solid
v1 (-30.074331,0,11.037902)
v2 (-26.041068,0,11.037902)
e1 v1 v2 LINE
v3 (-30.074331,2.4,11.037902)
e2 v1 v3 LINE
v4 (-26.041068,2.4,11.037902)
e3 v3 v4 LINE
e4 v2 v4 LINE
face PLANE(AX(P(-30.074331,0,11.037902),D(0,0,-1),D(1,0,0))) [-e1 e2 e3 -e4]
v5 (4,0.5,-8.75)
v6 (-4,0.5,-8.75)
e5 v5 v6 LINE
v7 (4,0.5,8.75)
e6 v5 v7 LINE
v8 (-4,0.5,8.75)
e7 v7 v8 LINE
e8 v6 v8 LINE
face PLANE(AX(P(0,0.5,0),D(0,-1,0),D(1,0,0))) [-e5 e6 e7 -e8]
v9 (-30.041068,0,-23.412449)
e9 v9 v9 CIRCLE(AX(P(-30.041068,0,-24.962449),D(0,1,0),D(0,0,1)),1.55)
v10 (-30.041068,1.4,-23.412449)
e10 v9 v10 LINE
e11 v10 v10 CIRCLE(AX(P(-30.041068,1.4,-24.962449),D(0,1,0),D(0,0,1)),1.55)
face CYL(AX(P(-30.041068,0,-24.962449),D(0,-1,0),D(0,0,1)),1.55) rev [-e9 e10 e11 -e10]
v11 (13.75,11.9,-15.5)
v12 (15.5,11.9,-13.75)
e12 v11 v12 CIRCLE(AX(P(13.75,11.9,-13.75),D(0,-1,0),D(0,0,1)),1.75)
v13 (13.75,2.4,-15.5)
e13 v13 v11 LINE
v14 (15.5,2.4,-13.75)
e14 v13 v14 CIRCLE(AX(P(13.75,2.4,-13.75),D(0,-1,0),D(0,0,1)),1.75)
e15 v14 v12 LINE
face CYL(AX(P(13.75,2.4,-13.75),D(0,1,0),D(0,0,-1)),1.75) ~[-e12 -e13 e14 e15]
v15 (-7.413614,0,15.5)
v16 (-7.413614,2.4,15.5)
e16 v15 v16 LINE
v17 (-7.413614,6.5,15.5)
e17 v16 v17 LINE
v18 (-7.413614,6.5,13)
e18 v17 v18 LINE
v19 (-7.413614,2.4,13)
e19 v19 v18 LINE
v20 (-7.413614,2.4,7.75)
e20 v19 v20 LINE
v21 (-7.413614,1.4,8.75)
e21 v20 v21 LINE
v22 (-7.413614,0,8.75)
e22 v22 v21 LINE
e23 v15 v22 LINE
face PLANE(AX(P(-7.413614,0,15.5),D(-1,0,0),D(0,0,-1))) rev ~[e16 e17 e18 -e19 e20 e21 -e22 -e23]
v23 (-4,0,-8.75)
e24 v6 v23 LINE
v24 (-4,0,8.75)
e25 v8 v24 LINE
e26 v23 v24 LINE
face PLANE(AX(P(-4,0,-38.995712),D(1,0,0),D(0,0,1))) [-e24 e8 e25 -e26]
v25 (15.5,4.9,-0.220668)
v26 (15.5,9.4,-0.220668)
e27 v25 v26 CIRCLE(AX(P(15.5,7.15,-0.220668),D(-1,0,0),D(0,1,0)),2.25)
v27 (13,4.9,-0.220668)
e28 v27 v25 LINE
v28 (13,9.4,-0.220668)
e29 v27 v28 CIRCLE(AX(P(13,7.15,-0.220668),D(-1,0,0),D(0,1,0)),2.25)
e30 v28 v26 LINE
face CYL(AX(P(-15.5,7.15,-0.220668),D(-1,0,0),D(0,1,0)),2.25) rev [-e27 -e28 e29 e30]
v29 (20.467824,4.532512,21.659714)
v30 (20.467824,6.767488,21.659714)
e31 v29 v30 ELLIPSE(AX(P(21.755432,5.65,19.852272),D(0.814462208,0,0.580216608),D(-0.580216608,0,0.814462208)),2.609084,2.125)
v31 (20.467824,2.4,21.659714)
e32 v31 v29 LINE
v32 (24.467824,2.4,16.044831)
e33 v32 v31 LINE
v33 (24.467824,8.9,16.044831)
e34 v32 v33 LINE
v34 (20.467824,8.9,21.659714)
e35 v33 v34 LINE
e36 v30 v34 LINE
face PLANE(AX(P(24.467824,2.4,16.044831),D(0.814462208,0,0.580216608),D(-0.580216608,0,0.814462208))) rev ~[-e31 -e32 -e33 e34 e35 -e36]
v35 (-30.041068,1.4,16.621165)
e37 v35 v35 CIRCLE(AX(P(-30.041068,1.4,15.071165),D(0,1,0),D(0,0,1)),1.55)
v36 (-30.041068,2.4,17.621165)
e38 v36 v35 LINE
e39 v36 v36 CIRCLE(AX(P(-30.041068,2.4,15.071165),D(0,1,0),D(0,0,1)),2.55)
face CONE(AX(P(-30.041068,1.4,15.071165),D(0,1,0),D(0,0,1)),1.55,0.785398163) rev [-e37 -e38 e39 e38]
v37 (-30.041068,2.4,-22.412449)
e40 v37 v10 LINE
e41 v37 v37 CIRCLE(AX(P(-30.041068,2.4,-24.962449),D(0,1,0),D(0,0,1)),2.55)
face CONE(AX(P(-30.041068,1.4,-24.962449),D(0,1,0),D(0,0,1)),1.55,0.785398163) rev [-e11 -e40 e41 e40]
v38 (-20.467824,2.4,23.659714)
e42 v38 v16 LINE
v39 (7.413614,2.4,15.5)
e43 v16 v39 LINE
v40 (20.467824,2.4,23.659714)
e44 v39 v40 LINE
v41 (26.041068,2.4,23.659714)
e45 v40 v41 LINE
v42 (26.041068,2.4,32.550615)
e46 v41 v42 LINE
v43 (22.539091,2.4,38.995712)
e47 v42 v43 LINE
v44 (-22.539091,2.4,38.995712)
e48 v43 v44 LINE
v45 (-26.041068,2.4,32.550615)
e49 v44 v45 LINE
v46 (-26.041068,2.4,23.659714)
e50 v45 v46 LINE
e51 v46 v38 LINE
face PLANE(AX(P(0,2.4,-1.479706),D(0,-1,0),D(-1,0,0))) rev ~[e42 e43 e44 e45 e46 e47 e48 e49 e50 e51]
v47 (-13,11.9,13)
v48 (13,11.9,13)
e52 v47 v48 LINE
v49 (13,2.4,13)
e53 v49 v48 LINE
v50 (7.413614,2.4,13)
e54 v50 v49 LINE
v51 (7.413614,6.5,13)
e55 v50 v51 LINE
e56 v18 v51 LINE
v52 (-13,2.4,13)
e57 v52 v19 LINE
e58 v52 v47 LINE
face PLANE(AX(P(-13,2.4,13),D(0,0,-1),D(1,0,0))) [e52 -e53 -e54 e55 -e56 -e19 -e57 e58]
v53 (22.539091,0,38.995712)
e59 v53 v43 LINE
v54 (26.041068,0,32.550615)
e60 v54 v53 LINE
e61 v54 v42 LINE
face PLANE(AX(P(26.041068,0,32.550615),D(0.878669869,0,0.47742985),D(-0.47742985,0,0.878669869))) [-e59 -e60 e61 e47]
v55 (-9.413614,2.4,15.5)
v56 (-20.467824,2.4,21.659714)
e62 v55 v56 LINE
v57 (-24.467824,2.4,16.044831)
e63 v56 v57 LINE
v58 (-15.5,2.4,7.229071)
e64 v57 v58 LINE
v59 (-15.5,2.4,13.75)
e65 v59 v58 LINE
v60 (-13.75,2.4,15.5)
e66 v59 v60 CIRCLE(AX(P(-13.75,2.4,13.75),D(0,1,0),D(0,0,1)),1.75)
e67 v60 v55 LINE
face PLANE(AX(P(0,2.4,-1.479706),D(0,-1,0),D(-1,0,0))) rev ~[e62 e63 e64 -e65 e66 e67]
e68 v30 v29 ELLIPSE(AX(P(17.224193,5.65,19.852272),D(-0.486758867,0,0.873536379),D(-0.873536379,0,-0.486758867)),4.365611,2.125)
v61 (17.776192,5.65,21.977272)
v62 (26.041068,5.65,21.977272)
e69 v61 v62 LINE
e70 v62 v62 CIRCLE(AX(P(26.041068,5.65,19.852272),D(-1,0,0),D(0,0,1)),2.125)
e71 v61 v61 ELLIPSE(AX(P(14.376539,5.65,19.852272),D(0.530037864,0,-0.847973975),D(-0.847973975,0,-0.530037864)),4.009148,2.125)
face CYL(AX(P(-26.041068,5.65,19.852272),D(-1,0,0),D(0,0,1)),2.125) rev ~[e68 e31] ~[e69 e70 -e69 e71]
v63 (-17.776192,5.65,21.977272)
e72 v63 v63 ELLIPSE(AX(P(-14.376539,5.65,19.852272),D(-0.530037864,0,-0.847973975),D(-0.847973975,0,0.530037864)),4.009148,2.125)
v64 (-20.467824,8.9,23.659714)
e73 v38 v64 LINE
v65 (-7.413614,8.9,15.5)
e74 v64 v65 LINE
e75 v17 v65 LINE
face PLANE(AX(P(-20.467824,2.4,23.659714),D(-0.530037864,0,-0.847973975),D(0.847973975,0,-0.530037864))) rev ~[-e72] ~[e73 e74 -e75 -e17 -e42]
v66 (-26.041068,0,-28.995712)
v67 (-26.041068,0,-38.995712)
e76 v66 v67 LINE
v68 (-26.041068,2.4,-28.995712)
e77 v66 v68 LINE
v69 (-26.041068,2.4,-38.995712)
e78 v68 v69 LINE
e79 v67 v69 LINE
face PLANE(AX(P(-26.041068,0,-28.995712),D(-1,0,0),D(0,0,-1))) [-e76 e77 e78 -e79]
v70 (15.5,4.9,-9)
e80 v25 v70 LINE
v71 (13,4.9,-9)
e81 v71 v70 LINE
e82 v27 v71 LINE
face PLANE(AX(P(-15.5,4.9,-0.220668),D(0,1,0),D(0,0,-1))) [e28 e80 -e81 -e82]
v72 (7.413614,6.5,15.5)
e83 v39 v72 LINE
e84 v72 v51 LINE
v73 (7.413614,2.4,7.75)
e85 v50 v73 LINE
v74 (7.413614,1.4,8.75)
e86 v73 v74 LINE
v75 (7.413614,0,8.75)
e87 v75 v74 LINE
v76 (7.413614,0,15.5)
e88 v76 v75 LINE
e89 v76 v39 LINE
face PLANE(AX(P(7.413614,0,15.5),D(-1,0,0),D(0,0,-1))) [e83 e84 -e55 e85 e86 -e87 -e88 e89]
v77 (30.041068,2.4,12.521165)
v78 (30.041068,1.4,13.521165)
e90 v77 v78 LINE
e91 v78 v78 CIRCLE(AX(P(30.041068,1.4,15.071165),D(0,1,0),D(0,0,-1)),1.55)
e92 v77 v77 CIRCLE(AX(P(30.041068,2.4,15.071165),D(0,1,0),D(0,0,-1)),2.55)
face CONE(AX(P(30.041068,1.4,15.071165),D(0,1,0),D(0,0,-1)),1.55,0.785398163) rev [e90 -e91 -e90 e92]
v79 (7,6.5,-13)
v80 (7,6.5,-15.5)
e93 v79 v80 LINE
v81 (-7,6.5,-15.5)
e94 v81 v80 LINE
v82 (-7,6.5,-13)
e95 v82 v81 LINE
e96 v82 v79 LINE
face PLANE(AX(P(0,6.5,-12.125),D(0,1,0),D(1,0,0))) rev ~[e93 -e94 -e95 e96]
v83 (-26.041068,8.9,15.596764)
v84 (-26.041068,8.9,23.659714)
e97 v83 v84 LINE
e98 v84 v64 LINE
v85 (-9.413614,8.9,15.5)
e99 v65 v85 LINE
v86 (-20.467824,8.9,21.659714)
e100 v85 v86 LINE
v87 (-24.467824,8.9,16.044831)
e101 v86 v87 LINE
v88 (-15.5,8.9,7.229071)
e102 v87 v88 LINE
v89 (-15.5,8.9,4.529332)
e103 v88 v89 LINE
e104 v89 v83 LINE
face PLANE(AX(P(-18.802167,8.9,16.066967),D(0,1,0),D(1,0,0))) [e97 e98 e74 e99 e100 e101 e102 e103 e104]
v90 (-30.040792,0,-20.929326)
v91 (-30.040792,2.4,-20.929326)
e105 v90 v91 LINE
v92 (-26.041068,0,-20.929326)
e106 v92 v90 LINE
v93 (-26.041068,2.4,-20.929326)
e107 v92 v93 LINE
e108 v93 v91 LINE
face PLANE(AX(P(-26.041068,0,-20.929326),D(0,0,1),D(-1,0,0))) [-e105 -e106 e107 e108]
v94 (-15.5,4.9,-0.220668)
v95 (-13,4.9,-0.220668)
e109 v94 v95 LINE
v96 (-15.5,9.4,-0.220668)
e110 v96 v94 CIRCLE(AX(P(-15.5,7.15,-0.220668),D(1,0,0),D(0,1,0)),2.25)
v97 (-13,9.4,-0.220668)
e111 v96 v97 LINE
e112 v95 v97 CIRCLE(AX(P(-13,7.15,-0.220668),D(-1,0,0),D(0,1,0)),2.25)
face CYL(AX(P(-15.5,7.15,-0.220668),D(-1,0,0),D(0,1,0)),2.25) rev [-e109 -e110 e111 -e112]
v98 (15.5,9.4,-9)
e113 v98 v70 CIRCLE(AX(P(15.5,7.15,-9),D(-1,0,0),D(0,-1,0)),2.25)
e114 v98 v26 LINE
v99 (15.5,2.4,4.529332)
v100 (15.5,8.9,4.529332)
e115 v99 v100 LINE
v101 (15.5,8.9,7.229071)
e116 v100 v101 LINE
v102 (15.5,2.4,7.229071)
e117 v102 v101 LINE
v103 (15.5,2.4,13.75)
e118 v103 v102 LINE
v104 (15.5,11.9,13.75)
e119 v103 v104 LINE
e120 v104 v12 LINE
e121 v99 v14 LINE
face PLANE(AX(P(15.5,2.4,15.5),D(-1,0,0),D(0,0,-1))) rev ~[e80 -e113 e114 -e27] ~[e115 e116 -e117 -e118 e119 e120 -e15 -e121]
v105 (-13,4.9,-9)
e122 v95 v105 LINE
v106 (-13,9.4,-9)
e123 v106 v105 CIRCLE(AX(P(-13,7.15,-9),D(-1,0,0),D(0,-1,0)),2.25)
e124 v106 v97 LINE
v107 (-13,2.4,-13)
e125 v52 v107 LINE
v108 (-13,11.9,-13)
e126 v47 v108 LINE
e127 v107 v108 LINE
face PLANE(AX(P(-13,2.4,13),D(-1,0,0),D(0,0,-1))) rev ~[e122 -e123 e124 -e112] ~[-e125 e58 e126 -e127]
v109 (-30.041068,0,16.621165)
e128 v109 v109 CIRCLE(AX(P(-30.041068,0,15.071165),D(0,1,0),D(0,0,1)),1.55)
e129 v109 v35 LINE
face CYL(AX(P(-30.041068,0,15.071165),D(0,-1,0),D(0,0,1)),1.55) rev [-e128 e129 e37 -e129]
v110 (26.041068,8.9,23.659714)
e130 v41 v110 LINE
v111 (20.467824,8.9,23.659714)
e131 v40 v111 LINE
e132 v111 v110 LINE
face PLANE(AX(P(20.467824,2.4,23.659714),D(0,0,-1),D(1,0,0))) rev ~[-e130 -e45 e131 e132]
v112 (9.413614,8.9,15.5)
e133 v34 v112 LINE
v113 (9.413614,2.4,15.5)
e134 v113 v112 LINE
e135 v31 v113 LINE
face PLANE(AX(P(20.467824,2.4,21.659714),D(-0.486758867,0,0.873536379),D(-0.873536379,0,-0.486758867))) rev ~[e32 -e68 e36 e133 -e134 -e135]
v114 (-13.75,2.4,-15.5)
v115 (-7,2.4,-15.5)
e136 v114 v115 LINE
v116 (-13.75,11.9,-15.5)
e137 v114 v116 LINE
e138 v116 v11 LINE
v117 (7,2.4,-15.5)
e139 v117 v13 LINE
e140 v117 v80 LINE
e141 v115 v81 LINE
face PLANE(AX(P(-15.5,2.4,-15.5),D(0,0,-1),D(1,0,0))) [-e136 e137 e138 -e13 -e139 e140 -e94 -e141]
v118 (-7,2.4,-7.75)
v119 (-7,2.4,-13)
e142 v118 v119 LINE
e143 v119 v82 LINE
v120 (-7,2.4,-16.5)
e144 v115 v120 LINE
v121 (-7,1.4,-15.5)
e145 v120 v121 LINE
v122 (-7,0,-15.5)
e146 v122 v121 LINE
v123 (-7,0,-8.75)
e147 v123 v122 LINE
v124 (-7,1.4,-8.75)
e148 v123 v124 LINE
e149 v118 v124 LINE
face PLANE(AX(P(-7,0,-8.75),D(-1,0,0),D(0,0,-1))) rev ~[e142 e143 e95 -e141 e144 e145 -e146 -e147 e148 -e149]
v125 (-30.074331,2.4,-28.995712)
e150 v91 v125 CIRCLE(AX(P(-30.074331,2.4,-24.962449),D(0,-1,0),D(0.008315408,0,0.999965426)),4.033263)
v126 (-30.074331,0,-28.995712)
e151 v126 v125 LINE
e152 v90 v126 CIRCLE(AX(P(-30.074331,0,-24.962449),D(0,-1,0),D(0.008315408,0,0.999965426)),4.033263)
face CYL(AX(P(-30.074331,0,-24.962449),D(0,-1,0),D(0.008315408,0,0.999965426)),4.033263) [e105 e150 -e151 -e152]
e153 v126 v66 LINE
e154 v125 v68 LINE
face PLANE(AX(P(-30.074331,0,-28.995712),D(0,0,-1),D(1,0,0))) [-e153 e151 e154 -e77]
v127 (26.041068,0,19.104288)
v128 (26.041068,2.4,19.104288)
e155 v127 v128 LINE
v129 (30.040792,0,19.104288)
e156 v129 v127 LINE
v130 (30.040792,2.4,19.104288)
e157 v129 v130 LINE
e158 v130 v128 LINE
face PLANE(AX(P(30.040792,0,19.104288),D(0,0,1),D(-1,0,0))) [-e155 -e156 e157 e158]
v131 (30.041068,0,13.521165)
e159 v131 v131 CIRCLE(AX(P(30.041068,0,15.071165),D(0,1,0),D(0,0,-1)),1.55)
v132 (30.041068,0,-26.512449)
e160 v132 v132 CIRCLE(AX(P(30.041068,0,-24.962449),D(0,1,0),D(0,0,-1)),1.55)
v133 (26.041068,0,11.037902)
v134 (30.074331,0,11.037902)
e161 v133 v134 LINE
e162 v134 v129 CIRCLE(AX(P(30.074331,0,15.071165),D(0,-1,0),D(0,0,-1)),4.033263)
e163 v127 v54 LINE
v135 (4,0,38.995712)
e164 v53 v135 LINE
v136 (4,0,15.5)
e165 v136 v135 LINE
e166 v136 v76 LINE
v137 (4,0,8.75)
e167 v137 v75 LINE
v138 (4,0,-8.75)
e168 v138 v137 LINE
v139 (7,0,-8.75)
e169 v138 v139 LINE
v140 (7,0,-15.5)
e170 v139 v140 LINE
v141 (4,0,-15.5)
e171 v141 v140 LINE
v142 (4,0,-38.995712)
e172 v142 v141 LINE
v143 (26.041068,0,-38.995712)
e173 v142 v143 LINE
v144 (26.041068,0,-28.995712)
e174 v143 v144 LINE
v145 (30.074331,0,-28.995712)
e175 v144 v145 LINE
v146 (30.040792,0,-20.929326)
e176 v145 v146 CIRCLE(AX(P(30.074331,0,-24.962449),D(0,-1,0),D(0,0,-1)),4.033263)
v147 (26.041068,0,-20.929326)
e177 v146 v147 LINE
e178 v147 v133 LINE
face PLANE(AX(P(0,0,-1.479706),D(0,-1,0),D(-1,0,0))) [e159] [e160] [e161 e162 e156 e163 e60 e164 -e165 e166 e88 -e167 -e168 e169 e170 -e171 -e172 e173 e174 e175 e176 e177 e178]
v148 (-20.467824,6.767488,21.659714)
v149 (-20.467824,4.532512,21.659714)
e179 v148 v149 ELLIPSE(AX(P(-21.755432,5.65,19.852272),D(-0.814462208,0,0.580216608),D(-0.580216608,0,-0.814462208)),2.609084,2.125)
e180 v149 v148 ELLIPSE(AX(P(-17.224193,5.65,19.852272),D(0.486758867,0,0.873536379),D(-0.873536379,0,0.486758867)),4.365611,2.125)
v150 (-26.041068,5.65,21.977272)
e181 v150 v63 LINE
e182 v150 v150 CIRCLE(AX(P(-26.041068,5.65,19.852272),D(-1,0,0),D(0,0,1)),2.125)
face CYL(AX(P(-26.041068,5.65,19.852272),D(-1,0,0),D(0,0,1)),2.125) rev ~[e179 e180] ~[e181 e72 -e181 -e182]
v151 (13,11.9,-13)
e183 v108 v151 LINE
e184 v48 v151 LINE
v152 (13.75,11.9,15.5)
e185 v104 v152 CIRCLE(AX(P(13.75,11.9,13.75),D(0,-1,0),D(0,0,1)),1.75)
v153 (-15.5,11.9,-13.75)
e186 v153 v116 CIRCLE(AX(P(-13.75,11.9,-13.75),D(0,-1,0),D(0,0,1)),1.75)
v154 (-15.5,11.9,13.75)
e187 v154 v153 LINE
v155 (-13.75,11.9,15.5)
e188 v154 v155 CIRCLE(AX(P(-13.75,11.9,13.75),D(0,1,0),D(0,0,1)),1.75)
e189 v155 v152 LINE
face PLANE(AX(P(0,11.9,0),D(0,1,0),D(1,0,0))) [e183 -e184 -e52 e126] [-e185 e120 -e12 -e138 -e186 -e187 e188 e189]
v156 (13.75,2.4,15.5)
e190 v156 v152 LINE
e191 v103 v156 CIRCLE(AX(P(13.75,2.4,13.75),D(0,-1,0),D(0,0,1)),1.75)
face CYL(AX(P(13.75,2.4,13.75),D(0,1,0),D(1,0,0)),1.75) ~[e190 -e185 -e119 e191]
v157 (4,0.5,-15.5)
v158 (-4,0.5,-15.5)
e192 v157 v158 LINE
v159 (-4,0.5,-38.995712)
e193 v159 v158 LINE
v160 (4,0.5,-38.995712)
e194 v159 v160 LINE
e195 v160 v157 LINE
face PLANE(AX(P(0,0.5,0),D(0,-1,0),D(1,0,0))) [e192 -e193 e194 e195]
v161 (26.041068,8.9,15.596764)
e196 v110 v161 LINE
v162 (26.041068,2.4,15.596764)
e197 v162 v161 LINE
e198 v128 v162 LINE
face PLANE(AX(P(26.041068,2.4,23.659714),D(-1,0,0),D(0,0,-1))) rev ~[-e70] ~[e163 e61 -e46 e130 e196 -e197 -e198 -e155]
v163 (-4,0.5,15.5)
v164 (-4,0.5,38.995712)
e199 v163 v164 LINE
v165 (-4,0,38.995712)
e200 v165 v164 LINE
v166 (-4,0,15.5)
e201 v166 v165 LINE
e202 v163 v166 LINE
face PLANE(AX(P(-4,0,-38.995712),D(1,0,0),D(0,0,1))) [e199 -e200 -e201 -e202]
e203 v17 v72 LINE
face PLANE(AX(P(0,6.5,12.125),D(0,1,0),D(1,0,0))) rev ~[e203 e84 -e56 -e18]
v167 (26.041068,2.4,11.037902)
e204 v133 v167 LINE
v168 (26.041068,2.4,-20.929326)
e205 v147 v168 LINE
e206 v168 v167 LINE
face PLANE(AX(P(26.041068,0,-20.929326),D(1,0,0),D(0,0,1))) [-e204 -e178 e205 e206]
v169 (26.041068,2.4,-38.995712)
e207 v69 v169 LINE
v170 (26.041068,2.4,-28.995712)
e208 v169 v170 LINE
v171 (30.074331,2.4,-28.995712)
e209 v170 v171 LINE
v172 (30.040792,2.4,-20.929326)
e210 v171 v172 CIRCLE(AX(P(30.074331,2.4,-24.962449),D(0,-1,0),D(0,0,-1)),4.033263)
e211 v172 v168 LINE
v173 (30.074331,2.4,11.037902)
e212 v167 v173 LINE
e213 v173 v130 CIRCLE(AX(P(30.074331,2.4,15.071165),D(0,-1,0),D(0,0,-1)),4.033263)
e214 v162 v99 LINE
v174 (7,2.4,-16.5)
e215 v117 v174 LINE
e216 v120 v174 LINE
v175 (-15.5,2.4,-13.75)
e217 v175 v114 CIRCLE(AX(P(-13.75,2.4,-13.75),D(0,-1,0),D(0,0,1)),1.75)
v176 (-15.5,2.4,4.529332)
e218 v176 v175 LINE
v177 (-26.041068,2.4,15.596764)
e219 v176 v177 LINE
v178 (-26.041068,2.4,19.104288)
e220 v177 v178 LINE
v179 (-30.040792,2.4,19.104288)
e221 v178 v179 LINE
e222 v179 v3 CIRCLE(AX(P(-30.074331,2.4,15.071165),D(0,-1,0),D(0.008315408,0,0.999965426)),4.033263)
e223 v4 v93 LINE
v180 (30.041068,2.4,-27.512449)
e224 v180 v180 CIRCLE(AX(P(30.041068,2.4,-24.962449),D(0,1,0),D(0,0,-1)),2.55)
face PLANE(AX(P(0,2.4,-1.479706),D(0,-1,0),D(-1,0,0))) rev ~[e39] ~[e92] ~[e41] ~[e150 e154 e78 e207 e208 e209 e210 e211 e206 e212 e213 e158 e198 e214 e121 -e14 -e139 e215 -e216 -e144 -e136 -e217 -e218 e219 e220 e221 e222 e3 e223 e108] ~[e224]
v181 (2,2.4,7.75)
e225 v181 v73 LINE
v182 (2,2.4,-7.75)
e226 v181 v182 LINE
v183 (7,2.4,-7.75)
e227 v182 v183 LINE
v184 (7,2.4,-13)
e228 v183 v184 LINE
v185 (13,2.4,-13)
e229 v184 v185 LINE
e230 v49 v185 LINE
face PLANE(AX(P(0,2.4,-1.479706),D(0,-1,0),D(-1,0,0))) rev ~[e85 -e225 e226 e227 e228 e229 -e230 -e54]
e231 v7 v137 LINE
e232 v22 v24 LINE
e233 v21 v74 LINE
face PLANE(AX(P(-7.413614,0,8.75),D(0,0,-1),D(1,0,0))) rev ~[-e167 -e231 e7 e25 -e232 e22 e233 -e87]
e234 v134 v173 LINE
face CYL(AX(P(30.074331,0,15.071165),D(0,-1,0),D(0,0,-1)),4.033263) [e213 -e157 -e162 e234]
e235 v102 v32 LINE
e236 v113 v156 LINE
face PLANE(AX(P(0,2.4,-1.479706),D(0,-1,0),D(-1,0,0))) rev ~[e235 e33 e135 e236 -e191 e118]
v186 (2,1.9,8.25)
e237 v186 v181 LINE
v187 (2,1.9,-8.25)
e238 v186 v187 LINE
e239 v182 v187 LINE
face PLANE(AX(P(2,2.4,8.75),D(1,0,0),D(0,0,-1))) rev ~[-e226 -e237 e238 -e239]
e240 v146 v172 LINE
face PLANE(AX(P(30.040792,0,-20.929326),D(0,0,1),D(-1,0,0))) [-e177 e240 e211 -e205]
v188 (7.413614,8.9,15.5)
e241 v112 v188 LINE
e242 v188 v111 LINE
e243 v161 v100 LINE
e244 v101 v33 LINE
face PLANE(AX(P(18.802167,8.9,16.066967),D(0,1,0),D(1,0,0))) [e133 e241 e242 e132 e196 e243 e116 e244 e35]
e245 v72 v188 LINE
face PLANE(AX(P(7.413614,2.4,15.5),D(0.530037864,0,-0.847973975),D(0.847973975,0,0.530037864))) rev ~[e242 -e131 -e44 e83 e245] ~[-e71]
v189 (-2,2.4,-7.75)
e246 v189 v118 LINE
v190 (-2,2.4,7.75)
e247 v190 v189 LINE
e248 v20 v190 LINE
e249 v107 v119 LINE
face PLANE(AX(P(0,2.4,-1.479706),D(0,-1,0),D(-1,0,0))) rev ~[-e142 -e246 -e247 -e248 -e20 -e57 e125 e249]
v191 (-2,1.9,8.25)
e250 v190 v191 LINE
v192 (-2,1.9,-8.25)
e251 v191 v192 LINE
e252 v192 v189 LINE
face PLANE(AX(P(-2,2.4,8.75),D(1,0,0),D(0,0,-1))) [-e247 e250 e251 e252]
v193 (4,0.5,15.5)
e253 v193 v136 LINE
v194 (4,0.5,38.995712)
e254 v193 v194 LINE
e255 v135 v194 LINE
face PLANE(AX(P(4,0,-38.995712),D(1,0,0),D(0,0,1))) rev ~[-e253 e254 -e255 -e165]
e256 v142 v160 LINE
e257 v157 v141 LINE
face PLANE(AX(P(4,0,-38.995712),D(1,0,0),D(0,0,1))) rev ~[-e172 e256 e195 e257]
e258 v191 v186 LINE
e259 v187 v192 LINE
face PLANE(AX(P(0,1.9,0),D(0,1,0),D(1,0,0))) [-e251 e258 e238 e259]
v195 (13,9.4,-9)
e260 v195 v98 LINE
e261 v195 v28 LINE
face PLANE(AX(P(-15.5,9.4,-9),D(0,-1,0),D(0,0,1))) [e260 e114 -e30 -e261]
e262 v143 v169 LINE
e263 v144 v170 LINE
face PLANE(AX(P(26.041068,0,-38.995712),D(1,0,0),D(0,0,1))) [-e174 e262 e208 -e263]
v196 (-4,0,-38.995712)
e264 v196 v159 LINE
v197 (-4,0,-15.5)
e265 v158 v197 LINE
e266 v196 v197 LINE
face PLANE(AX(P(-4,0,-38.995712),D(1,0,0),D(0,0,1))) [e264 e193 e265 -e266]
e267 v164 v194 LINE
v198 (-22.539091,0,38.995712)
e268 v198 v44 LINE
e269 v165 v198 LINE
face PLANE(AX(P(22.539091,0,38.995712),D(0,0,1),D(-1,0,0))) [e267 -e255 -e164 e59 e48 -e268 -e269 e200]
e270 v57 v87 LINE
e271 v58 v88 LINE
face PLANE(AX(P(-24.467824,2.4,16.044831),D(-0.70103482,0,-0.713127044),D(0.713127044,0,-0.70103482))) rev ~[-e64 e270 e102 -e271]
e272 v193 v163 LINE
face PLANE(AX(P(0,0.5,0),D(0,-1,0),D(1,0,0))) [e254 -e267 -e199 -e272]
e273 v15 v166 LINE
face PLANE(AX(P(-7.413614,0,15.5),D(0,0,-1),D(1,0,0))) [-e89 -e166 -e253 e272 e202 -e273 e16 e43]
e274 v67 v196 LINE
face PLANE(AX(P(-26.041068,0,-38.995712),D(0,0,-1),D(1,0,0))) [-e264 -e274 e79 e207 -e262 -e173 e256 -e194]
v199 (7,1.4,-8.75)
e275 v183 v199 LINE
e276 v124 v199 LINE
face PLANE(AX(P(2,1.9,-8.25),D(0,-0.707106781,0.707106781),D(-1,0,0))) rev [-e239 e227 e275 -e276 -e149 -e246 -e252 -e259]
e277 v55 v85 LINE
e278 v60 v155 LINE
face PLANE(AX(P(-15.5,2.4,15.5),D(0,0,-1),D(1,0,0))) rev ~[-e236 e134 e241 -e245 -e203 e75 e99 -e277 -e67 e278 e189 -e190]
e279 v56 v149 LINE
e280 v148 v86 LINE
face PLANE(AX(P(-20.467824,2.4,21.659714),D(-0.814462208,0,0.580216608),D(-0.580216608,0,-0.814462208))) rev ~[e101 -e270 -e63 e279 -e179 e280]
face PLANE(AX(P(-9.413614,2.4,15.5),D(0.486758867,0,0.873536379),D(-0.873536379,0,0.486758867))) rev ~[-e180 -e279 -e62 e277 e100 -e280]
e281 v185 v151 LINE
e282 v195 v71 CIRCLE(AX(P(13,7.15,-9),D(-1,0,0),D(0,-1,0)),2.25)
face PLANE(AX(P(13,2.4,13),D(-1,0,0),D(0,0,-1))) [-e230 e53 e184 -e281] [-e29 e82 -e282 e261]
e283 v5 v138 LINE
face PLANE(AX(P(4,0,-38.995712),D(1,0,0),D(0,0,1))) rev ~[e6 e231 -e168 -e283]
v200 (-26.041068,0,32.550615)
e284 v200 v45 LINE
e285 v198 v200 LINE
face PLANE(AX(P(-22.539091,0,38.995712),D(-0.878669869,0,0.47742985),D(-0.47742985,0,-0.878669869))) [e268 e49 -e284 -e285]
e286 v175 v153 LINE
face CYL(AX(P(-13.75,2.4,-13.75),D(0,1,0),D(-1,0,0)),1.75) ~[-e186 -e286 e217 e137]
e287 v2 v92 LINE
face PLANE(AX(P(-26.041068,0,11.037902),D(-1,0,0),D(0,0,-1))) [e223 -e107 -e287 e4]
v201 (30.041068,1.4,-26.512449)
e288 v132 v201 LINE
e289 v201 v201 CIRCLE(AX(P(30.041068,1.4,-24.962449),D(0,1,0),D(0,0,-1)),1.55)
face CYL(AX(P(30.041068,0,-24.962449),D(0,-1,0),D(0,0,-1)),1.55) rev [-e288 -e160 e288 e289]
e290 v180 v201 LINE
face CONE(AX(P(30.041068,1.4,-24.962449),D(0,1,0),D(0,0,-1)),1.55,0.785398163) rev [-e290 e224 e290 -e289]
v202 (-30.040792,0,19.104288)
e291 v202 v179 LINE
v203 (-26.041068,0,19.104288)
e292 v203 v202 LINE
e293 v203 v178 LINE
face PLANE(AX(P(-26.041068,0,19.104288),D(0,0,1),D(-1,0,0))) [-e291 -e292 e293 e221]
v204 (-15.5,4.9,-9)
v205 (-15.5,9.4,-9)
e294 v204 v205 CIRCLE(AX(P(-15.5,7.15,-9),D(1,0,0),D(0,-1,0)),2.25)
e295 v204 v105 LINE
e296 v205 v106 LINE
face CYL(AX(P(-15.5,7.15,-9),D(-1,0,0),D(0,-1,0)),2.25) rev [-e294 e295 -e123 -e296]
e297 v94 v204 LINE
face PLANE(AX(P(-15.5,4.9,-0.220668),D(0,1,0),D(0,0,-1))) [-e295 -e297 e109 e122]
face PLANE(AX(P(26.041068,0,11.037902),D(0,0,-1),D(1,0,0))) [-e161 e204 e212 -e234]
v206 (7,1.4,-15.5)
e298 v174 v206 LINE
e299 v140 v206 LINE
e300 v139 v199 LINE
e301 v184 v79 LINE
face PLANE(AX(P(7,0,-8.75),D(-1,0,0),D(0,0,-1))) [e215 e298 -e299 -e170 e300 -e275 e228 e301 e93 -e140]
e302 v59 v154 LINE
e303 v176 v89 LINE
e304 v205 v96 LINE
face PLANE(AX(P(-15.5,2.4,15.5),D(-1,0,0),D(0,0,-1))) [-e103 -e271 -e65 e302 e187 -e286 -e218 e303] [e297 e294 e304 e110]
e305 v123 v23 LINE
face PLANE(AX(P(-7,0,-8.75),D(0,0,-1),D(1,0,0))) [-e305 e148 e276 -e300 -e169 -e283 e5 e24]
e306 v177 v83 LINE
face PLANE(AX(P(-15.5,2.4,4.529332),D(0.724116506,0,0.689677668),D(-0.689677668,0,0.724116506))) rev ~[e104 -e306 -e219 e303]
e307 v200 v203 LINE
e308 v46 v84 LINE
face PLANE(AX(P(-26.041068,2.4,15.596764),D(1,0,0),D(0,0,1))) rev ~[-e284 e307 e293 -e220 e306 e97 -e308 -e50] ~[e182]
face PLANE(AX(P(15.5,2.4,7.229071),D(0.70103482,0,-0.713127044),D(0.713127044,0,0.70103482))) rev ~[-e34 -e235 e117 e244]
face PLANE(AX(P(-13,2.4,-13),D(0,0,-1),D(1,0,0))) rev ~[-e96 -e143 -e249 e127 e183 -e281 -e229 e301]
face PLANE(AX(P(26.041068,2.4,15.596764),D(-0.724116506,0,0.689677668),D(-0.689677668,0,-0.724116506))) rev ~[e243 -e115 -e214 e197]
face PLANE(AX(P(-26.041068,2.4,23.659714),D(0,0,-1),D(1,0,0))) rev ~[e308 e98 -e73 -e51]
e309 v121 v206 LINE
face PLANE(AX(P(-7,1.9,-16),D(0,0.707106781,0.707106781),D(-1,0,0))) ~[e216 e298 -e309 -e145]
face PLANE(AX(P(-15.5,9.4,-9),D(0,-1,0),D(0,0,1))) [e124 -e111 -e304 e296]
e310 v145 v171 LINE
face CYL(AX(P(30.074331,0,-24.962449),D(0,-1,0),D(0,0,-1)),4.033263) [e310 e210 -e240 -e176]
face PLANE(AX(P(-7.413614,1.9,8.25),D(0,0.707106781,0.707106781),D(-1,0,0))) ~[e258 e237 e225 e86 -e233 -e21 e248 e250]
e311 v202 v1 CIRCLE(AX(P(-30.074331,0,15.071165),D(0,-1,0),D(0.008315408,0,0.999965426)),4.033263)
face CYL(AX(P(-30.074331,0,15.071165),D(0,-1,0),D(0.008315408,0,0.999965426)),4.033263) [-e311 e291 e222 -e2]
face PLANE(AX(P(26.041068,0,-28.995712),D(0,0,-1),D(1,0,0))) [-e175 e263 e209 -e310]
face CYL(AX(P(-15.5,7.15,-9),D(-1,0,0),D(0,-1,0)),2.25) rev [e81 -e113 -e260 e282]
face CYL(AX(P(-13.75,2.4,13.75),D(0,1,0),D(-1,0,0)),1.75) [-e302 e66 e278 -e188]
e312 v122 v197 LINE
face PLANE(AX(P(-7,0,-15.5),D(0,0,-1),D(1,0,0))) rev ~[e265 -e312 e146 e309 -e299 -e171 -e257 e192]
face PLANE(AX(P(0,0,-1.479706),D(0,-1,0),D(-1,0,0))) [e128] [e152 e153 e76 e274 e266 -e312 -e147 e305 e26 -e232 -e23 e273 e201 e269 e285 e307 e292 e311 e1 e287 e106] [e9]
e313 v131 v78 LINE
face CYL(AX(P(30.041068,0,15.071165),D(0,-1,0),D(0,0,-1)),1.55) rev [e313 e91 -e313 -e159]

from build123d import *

# Parameters (mm, degrees)
SKETCH1_R              = 1.55
EXTRUDE_707_DEPTH      = 2.4
SKETCH2_W              = 31
SKETCH2_H              = 31
SKETCH2_W_2            = 26
SKETCH2_H_2            = 26
GPS_DEPTH              = 9.5
GPS_2_R                = 1.75
CHAMFER_1832_SIZE      = 1
EXTRUDE_3171_DEPTH     = 6.5
SKETCH4_R              = 2.125
CUT_EXTRUDE_3634_DEPTH = 73.664551053
CUT_EXTRUDE_3926_DEPTH = 65.212061635
SKETCH7_W              = 14
SKETCH7_H              = 6.75
SKETCH7_W_2            = 14.827228548
CUT_EXTRUDE_4854_DEPTH = 6.5
SKETCH8_W              = 4
SKETCH8_H              = 17.5
CUT_EXTRUDE_5206_DEPTH = 0.5
CHAMFER_5287_SIZE      = 1
SKETCH9_W              = 8
SKETCH9_H              = 77.991423638
CUT_EXTRUDE_6206_DEPTH = 0.5


with BuildPart() as part:
    # Sketch1 → Extrude 707 (new body)
    with BuildSketch(Plane(origin=(0, 0, 0), x_dir=(1, 0, 0), z_dir=(0, 1, 0))):
        with BuildLine():
            Line((-26.041067799, 38.995711819), (26.041067799, 38.995711819))
            Line((26.041067799, 38.995711819), (26.041067799, 28.995711819))
            Line((26.041067799, 28.995711819), (30.074330581, 28.995711819))
            ThreePointArc((30.074330581, 28.995711819), (34.107558501, 24.94567978), (30.040792356, 20.929325701))
            Line((30.040792356, 20.929325701), (26.041067799, 20.929325701))
            Line((26.041067799, 20.929325701), (26.041067799, -11.037902063))
            Line((26.041067799, -11.037902063), (30.074330581, -11.037902063))
            ThreePointArc((30.074330581, -11.037902063), (34.107558501, -15.087934101), (30.040792356, -19.104288181))
            Line((30.040792356, -19.104288181), (26.041067799, -19.104288181))
            Line((26.041067799, -19.104288181), (26.041067799, -32.550614881))
            Line((26.041067799, -32.550614881), (22.539090807, -38.995711819))
            Line((22.539090807, -38.995711819), (-22.539090807, -38.995711819))
            Line((-22.539090807, -38.995711819), (-26.041067799, -32.550614881))
            Line((-26.041067799, -32.550614881), (-26.041067799, -19.104288181))
            Line((-26.041067799, -19.104288181), (-30.040792356, -19.104288181))
            ThreePointArc((-30.040792356, -19.104288181), (-34.107558501, -15.087934101), (-30.074330581, -11.037902063))
            Line((-30.074330581, -11.037902063), (-26.041067799, -11.037902063))
            Line((-26.041067799, -11.037902063), (-26.041067799, 20.929325701))
            Line((-26.041067799, 20.929325701), (-30.040792356, 20.929325701))
            ThreePointArc((-30.040792356, 20.929325701), (-34.107558501, 24.94567978), (-30.074330581, 28.995711819))
            Line((-30.074330581, 28.995711819), (-26.041067799, 28.995711819))
            Line((-26.041067799, 28.995711819), (-26.041067799, 38.995711819))
        make_face()
        with Locations(Location((-30.041067799, 24.962449038, 0), (0, 0, 270))):
            Circle(SKETCH1_R, mode=Mode.SUBTRACT)
        with Locations(Location((30.041067799, 24.962449038, 0), (0, 0, 90))):
            Circle(SKETCH1_R, mode=Mode.SUBTRACT)
        with Locations(Location((-30.041067799, -15.071164844, 0), (0, 0, 270))):
            Circle(SKETCH1_R, mode=Mode.SUBTRACT)
        with Locations(Location((30.041067799, -15.071164844, 0), (0, 0, 90))):
            Circle(SKETCH1_R, mode=Mode.SUBTRACT)
    extrude(amount=EXTRUDE_707_DEPTH)

    # Sketch2 → GPS (add)
    with BuildSketch(Plane(origin=(0, 2.4, 0), x_dir=(1, 0, 0), z_dir=(0, 1, 0))):
        Rectangle(SKETCH2_W, SKETCH2_H)
        Rectangle(SKETCH2_W_2, SKETCH2_H_2, mode=Mode.SUBTRACT)
    extrude(amount=GPS_DEPTH)

    # GPS 2
    gps_2_edges = [part.edges().sort_by_distance(p)[0] for p in [
        (15.5, 7.15, -15.5),
        (-15.5, 7.15, -15.5),
        (-15.5, 7.15, 15.5),
        (15.5, 7.15, 15.5),
    ]]
    fillet(gps_2_edges, radius=GPS_2_R)

    # Chamfer 1832
    chamfer_1832_edges = [part.edges().sort_by_distance(p)[0] for p in [
        (-30.041067799, 2.4, -26.512449038),
        (30.041067799, 2.4, -23.412449038),
        (30.041067799, 2.4, 16.621164844),
        (-30.041067799, 2.4, 13.521164844),
    ]]
    chamfer(chamfer_1832_edges, length=CHAMFER_1832_SIZE)

    # Sketch3 → Extrude 3171 (add)
    with BuildSketch(Plane(origin=(0, 2.4, 0), x_dir=(1, 0, 0), z_dir=(0, 1, 0))):
        Polygon((-24.467823985, -16.04483058), (-15.5, -7.229070577), (-15.5, -4.529331749), (-26.041067799, -15.596764458), (-26.041067799, -23.659714375), (-20.467823985, -23.659714375), (-7.413614274, -15.5), (-9.413614274, -15.5), (-20.467823985, -21.659714375), align=None)
        Polygon((9.413614274, -15.5), (7.413614274, -15.5), (20.467823985, -23.659714375), (26.041067799, -23.659714375), (26.041067799, -15.596764458), (15.5, -4.529331749), (15.5, -7.229070577), (24.467823985, -16.04483058), (20.467823985, -21.659714375), align=None)
    extrude(amount=EXTRUDE_3171_DEPTH)

    # Sketch4 → Cut-Extrude 3634 (cut, through all)
    with BuildSketch(Plane.ZY.offset(26.041067799)):
        with Locations((19.852272478, 5.65)):
            Circle(SKETCH4_R)
    extrude(amount=-CUT_EXTRUDE_3634_DEPTH, mode=Mode.SUBTRACT)

    # Sketch6 → Cut-Extrude 3926 (cut, through all)
    with BuildSketch(Plane.ZY.offset(15.5)):
        with BuildLine():
            Line((-9, 9.4), (-0.220668251, 9.4))
            ThreePointArc((-0.220668251, 9.4), (2.029331749, 7.15), (-0.220668251, 4.9))
            Line((-0.220668251, 4.9), (-9, 4.9))
            ThreePointArc((-9, 4.9), (-11.25, 7.15), (-9, 9.4))
        make_face()
    extrude(amount=-CUT_EXTRUDE_3926_DEPTH, mode=Mode.SUBTRACT)

    # Sketch7 → Cut-Extrude 4854 (cut)
    with BuildSketch(Plane(origin=(0, 0, 0), x_dir=(1, 0, 0), z_dir=(0, 1, 0))):
        with Locations((0, 12.125)):
            Rectangle(SKETCH7_W, SKETCH7_H)
        with Locations((0, -12.125)):
            Rectangle(SKETCH7_W_2, SKETCH7_H)
    extrude(amount=CUT_EXTRUDE_4854_DEPTH, mode=Mode.SUBTRACT)

    # Sketch8 → Cut-Extrude 5206 (cut)
    with BuildSketch(Plane(origin=(0, 2.4, 0), x_dir=(1, 0, 0), z_dir=(0, 1, 0))):
        Rectangle(SKETCH8_W, SKETCH8_H)
    extrude(amount=-CUT_EXTRUDE_5206_DEPTH, mode=Mode.SUBTRACT)

    # Chamfer 5287
    chamfer_5287_edges = [part.edges().sort_by_distance(p)[0] for p in [
        (4.5, 2.4, -8.75),
        (0, 2.4, -15.5),
        (-4.706807137, 2.4, 8.75),
    ]]
    chamfer(chamfer_5287_edges, length=CHAMFER_5287_SIZE)

    # Sketch9 → Cut-Extrude 6206 (cut)
    with BuildSketch(Plane.XZ):
        Rectangle(SKETCH9_W, SKETCH9_H)
    extrude(amount=-CUT_EXTRUDE_6206_DEPTH, mode=Mode.SUBTRACT)


solid = part.part
